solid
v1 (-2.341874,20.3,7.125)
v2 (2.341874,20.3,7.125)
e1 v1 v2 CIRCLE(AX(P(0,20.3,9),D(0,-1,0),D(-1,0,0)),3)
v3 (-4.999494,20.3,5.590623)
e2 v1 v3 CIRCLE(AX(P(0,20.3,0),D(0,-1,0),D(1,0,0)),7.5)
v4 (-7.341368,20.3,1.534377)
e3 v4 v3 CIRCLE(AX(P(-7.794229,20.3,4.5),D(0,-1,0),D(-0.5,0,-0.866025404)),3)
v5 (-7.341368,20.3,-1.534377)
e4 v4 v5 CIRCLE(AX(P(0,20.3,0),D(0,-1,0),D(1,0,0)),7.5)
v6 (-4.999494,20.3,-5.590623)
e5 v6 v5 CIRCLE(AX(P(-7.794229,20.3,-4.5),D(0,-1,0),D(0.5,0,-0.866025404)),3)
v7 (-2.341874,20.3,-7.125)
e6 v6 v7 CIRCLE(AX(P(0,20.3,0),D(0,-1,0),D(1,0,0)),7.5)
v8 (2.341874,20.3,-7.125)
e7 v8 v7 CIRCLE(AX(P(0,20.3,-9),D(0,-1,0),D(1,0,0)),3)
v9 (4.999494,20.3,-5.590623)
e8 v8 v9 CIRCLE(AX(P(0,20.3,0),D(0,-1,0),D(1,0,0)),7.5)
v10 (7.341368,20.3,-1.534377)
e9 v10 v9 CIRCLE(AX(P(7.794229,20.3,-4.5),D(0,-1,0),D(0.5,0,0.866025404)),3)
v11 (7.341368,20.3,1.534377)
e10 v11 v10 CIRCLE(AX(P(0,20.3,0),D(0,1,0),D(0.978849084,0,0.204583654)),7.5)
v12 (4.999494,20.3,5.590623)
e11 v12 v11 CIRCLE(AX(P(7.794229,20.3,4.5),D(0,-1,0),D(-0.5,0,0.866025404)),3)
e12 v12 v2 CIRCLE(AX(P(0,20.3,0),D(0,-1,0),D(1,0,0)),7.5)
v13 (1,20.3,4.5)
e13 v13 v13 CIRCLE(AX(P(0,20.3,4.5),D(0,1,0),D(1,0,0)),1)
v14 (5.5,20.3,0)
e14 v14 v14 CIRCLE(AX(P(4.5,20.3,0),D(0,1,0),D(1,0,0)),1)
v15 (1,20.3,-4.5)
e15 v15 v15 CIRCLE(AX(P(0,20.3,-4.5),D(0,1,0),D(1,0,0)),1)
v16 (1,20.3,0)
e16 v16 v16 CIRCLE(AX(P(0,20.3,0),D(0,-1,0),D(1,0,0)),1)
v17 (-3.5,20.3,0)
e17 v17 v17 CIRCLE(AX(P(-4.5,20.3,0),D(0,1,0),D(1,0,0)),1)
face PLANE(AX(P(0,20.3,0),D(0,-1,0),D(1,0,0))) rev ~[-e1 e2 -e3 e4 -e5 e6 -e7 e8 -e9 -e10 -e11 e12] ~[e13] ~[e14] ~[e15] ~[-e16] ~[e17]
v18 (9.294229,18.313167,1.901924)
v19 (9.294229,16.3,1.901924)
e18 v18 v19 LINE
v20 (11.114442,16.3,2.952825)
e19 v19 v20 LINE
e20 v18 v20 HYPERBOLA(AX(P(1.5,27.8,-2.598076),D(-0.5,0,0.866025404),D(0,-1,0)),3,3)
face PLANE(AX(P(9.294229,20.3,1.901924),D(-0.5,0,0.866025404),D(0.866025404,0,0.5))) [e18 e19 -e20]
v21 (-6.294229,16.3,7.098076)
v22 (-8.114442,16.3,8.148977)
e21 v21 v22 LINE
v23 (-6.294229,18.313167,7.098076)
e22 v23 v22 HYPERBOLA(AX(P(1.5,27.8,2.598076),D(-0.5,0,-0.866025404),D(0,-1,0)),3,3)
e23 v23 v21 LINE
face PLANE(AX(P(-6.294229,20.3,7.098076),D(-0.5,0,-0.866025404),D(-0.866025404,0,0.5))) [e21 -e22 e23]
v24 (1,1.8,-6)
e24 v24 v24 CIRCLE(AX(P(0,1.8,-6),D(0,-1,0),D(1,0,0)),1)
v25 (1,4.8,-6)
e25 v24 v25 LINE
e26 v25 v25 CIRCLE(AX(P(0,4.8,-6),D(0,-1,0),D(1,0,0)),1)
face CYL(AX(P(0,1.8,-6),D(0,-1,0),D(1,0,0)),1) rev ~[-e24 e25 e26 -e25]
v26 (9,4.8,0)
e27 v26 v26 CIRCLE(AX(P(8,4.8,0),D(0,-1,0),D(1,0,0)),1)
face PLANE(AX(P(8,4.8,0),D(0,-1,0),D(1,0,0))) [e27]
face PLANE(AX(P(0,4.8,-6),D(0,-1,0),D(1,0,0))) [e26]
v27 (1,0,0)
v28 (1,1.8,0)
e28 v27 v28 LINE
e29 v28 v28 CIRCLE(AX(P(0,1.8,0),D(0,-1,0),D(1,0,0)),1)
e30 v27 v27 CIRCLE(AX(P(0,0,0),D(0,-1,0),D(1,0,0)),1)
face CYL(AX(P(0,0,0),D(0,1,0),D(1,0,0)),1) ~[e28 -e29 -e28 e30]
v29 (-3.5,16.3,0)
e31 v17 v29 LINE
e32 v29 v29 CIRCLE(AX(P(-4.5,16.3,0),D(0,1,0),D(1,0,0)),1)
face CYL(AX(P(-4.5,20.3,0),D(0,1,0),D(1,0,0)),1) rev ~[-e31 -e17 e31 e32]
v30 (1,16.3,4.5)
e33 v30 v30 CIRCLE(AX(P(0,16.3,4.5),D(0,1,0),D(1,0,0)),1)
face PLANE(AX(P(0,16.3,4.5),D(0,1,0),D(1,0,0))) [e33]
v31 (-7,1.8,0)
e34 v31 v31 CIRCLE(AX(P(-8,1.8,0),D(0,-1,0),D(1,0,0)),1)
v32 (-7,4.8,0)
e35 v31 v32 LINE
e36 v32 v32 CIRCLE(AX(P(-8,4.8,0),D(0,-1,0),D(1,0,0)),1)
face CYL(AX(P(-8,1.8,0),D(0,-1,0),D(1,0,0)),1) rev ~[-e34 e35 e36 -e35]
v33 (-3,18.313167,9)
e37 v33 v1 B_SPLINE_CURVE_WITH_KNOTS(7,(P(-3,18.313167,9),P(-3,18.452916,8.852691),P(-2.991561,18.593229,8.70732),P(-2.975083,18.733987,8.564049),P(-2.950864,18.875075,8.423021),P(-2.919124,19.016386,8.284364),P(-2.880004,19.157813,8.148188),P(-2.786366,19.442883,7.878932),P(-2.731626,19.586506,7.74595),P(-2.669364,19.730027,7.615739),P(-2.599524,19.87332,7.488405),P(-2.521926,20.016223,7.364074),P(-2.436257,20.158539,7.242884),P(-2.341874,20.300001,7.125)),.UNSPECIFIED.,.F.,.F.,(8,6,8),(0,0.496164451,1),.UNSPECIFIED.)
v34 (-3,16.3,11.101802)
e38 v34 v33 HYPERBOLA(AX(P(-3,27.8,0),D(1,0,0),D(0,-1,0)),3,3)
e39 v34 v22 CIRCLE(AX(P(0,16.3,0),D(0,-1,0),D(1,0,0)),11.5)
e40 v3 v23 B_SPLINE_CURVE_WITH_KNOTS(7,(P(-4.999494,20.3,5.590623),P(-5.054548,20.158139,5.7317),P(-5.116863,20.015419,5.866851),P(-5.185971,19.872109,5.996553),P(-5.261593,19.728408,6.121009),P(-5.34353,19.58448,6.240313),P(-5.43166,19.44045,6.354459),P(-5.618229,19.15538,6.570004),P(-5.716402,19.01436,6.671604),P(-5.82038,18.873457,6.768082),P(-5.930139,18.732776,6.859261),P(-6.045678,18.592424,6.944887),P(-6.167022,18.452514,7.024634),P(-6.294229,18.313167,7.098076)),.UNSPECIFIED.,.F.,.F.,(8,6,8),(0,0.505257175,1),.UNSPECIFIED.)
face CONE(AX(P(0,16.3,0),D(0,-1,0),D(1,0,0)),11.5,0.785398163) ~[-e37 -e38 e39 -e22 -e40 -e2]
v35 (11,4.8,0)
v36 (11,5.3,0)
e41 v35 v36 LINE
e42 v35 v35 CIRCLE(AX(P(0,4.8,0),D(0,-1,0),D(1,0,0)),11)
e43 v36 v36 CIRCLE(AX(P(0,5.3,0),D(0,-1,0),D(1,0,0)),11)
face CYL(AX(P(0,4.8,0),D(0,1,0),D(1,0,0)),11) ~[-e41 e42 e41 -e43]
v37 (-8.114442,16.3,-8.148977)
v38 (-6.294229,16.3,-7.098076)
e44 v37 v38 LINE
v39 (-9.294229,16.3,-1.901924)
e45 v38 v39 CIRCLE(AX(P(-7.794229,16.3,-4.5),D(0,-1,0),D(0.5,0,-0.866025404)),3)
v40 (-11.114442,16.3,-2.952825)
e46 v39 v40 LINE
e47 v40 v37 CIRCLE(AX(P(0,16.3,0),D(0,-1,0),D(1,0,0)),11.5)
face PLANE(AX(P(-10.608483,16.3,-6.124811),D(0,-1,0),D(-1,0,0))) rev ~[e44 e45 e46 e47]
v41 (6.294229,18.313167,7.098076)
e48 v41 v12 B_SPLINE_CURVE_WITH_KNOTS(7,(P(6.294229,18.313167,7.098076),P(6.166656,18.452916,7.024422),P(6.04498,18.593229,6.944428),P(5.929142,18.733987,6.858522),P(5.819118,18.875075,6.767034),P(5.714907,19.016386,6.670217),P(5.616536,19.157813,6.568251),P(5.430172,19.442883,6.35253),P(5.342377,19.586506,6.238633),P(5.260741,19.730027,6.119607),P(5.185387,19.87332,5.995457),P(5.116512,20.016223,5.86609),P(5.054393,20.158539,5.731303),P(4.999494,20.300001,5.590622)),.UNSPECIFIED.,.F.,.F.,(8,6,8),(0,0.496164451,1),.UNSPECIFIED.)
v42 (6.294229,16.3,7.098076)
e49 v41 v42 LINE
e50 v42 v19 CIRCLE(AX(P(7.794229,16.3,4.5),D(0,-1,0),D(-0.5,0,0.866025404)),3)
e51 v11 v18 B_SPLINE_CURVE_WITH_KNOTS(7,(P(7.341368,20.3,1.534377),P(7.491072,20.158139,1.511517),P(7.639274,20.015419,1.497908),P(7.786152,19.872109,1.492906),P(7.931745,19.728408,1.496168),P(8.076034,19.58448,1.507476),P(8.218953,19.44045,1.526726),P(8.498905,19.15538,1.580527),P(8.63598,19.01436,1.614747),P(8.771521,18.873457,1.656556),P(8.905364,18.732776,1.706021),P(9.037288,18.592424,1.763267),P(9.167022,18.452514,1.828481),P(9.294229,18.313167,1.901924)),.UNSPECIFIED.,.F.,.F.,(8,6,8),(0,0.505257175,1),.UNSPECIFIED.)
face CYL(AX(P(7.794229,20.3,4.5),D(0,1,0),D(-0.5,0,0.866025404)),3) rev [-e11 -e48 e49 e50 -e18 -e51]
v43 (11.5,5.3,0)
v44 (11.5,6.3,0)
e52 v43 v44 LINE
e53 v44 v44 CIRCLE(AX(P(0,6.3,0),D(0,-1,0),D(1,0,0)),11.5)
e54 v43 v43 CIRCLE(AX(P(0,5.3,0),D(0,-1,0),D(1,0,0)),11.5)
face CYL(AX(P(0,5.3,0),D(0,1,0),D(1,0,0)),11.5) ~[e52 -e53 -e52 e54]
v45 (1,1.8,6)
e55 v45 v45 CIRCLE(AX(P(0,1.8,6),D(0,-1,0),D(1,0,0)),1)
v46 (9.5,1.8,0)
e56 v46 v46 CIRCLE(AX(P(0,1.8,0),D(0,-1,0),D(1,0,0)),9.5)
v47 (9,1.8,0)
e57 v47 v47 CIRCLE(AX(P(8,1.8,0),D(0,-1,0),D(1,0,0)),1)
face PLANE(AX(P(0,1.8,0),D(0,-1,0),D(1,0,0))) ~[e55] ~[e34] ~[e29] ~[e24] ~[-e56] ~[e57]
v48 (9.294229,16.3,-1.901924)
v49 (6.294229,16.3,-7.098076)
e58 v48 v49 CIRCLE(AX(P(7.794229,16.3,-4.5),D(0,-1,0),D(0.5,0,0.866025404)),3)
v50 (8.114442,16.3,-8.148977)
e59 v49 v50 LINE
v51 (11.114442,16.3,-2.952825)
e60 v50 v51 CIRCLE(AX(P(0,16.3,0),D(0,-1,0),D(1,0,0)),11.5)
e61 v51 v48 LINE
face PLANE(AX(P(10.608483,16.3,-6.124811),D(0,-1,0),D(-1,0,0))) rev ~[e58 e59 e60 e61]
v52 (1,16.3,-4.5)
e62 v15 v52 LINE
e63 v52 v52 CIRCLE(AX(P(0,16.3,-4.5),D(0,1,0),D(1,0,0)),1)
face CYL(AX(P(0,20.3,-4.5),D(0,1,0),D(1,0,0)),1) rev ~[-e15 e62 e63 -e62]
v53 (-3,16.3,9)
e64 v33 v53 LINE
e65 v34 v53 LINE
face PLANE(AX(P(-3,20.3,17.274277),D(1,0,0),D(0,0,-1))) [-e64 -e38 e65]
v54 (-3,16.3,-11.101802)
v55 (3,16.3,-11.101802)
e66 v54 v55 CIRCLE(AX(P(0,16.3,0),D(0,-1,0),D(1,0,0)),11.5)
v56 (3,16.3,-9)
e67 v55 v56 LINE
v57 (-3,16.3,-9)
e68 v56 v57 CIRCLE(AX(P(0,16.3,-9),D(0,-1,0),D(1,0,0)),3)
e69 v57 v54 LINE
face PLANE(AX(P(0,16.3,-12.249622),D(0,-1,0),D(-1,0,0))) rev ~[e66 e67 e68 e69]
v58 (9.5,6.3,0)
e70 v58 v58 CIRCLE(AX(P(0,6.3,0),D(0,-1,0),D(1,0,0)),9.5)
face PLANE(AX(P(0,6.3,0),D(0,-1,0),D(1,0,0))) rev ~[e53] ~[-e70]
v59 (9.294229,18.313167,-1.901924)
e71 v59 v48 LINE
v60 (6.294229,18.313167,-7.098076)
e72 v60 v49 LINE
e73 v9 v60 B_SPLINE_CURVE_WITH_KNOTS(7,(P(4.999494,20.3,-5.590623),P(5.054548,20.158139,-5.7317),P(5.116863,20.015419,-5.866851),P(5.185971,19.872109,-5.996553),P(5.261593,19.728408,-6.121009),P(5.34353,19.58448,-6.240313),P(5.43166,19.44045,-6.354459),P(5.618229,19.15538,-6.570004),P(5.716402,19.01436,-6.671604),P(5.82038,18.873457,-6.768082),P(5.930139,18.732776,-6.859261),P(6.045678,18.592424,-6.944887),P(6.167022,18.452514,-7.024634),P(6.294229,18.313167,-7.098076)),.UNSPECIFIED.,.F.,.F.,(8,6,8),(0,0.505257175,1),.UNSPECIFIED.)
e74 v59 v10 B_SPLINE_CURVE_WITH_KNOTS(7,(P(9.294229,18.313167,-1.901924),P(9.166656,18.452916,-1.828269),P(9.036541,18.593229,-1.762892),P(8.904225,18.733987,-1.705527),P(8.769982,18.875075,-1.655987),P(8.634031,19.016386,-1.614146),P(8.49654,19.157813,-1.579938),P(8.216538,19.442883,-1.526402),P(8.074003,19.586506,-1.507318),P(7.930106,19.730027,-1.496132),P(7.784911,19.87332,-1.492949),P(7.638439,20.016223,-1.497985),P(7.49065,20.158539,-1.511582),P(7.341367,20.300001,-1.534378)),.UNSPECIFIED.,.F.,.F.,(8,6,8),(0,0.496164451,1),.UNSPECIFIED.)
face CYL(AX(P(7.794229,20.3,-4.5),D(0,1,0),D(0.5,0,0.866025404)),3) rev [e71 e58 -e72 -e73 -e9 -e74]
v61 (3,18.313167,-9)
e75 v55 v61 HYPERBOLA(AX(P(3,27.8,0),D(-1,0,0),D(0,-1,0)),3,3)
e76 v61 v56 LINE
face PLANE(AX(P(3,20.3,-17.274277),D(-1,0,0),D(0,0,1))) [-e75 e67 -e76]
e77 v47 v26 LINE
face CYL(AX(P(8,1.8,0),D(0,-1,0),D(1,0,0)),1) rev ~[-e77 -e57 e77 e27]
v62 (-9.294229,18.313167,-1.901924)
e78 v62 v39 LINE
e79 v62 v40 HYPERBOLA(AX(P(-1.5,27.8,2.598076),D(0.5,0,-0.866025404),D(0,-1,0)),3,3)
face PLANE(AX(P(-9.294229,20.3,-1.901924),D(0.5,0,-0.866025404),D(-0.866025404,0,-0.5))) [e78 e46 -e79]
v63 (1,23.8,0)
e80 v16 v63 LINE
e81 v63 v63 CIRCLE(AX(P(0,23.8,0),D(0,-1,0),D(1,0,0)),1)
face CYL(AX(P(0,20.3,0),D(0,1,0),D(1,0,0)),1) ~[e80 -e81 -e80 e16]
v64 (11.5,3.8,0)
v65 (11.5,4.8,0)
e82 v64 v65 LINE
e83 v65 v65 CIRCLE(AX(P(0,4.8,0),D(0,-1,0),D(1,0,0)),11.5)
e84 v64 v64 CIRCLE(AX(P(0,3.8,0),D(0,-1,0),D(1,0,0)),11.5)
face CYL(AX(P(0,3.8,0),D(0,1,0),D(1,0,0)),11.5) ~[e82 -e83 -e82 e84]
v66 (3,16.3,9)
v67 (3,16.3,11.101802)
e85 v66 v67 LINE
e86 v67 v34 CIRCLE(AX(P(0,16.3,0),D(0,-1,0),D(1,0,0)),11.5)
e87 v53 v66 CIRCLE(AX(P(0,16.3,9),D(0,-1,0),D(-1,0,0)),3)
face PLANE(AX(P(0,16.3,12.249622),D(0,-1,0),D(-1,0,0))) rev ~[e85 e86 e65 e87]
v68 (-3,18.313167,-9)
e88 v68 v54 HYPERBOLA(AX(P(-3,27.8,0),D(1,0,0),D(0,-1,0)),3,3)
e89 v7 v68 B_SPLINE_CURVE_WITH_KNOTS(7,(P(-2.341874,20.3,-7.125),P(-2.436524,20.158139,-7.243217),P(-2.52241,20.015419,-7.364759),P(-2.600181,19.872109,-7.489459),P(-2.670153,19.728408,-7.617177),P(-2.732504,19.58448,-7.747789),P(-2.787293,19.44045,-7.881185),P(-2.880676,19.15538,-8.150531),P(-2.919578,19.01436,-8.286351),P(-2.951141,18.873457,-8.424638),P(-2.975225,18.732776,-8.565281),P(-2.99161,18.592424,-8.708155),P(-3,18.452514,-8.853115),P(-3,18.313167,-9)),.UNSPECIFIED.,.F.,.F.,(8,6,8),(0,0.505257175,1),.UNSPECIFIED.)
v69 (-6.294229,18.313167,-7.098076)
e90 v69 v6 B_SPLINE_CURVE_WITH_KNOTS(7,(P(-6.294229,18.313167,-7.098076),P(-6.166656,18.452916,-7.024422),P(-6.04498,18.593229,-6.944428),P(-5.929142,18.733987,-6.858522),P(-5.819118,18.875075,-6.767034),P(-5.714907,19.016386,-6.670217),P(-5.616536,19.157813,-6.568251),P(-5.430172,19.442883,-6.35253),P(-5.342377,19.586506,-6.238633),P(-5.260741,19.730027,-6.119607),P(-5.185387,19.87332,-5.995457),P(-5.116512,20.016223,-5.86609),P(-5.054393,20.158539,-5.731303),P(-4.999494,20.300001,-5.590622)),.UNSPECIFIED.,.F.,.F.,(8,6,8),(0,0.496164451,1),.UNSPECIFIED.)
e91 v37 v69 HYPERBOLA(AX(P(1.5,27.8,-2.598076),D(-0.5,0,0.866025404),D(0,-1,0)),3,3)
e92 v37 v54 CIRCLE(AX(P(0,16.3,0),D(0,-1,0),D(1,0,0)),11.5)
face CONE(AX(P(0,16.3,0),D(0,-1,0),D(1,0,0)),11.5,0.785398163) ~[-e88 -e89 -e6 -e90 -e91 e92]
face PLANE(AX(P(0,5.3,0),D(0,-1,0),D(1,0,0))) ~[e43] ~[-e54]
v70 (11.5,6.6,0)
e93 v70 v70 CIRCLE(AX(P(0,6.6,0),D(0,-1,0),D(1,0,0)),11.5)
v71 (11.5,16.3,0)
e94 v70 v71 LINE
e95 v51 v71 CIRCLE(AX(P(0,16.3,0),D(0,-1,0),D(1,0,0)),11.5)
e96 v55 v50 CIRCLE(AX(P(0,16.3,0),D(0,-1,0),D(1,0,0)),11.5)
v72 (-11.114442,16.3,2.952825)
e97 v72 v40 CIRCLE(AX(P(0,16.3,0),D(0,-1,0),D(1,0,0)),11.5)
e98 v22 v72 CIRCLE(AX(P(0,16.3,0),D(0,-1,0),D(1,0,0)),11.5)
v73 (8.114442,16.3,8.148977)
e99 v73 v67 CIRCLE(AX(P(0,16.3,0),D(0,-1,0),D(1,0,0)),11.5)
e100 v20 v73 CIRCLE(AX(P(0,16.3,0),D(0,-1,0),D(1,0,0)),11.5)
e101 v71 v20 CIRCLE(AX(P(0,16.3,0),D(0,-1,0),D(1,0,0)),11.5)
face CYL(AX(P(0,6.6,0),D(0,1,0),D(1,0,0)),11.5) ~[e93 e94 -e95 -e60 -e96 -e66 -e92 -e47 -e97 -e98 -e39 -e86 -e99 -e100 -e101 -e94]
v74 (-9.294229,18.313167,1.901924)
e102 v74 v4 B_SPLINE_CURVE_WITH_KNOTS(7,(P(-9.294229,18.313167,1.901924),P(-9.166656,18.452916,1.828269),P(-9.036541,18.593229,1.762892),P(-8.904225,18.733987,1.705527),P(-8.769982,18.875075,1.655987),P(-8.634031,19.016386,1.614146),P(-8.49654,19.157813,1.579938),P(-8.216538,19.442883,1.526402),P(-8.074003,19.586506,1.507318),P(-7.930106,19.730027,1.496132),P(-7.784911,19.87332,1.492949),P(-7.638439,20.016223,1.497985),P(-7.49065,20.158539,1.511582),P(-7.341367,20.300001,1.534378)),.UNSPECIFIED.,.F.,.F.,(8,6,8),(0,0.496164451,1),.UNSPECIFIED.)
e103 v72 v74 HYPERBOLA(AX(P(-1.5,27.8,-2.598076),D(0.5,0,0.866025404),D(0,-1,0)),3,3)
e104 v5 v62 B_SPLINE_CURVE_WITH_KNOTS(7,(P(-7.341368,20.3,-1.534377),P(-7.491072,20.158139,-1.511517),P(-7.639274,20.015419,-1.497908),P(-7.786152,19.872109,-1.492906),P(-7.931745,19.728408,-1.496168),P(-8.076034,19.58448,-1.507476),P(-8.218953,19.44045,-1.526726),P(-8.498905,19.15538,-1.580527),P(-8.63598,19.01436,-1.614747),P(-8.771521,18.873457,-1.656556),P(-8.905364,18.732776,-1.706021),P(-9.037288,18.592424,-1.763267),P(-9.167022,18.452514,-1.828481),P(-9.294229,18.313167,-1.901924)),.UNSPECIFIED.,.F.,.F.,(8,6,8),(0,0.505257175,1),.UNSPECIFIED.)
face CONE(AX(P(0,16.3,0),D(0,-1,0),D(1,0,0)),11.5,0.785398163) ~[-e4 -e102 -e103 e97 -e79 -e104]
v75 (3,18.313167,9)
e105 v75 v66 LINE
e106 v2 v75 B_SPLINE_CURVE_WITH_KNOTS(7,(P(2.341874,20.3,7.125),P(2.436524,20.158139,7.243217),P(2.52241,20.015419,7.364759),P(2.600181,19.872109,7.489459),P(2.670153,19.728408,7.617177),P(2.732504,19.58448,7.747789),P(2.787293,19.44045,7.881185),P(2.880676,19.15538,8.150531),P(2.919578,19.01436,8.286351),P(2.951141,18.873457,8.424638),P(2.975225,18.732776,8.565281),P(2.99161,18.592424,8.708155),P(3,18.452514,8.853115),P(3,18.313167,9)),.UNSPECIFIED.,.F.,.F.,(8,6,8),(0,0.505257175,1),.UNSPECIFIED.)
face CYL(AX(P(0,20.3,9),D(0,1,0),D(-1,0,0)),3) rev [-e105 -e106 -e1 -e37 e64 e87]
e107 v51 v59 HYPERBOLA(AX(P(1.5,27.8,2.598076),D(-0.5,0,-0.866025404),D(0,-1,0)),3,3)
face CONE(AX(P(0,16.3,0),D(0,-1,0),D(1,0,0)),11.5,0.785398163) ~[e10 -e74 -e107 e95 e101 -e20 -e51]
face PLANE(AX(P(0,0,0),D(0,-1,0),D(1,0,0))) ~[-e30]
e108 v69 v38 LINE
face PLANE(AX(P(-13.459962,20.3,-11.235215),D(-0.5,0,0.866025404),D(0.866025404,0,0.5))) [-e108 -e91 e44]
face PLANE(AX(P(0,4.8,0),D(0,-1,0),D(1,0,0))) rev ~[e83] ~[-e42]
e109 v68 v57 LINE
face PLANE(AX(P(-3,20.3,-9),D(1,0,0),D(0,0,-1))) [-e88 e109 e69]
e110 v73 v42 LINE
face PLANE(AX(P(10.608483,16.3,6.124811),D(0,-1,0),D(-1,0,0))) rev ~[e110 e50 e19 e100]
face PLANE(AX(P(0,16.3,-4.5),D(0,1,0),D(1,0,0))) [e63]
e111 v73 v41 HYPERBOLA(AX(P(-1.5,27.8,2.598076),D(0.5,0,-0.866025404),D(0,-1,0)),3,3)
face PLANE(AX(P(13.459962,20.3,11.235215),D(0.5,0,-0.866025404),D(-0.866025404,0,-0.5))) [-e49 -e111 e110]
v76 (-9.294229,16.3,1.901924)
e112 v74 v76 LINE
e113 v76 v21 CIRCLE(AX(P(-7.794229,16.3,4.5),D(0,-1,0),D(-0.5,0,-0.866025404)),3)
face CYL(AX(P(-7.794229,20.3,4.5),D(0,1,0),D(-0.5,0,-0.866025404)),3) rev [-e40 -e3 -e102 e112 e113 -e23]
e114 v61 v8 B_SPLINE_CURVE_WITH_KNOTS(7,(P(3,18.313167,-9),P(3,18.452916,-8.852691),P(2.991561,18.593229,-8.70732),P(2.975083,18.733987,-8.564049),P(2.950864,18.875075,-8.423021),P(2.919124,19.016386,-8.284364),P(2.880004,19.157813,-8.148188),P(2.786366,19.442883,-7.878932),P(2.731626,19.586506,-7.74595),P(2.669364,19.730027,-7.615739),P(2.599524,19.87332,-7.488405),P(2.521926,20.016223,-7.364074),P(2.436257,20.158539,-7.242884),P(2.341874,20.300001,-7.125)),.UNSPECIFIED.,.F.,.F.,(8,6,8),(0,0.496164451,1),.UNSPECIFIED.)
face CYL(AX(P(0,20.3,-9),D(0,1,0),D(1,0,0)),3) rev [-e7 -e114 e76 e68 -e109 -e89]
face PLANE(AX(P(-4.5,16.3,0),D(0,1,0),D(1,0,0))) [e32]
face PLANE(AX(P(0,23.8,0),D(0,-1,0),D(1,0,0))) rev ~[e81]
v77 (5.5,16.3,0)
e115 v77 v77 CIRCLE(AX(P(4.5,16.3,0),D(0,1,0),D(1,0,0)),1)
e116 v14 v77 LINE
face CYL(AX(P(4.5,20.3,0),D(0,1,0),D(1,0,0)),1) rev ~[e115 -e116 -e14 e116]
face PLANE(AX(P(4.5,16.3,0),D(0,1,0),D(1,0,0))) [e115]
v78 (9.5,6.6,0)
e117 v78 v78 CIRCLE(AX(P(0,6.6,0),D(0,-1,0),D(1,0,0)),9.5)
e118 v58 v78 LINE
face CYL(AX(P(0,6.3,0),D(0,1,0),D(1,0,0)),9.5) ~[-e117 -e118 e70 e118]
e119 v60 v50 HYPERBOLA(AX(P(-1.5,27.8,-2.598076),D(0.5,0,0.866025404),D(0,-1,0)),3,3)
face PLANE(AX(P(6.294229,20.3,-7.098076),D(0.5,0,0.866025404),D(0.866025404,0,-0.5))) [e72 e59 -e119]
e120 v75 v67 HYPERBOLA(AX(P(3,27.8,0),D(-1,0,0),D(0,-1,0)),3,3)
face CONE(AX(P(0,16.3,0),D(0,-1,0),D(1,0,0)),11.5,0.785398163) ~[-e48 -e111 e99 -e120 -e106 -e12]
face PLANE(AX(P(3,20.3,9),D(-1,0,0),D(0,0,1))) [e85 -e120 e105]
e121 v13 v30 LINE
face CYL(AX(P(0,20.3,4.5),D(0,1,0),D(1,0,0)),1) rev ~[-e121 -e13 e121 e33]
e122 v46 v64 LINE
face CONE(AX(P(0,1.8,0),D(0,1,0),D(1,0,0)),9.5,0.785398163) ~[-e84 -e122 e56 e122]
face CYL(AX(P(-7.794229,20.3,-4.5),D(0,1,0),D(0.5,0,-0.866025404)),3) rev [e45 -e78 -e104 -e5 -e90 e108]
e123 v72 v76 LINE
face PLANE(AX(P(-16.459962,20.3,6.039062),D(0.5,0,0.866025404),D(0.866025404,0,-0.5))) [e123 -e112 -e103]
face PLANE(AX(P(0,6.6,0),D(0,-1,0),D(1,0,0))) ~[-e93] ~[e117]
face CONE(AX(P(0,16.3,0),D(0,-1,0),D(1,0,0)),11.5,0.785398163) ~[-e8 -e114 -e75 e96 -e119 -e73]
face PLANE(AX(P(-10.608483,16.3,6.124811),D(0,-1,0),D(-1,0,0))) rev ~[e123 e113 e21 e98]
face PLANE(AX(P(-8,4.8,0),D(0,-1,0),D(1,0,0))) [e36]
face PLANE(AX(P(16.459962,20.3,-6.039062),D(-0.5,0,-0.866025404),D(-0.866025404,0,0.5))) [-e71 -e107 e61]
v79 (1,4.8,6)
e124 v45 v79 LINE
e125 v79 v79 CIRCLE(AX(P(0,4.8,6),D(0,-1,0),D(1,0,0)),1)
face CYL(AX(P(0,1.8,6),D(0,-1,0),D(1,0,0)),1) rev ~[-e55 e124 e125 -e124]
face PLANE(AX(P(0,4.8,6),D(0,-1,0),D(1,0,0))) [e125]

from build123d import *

# Parameters (mm, degrees)
SKETCH3_R          = 1
CUT_EXTRUDE1_DEPTH = 4
SKETCH4_R          = 1
CUT_EXTRUDE2_DEPTH = 3


with BuildPart() as part:
    # Sketch2 → Revolve2 (revolve)
    with BuildSketch(Plane.XY):
        Polygon((1, 23.8), (0, 23.8), (0, 0), (1, 0), (1, 1.8), (9.5, 1.8), (11.5, 3.8), (11.5, 4.8), (11, 4.8), (11, 5.3), (11.5, 5.3), (11.5, 6.3), (9.5, 6.3), (9.5, 6.6), (11.5, 6.6), (11.5, 16.3), (7.5, 20.3), (1, 20.3), align=None)
    revolve(axis=Axis((0, 23.8, 0), (0, -1, 0)))

    # Sketch3 → Cut-Extrude1 (cut)
    with BuildSketch(Plane(origin=(0, 20.3, 0), x_dir=(1, 0, 0), z_dir=(0, 1, 0))):
        with Locations((0, 4.5)):
            Circle(SKETCH3_R)
        with Locations((0, -4.5)):
            Circle(SKETCH3_R)
        with Locations((4.5, 0)):
            Circle(SKETCH3_R)
        with Locations((-4.5, 0)):
            Circle(SKETCH3_R)
        with BuildLine():
            Line((-3, 9), (-3, 17.274276686))
            Line((-3, 17.274276686), (3, 17.274276686))
            Line((3, 17.274276686), (3, 9))
            ThreePointArc((3, 9), (0, 6), (-3, 9))
        make_face()
        with BuildLine():
            Line((13.459962442, 11.235214554), (16.459962442, 6.039062131))
            Line((16.459962442, 6.039062131), (9.294228634, 1.901923789))
            ThreePointArc((9.294228634, 1.901923789), (5.196152423, 3), (6.294228634, 7.098076211))
            Line((6.294228634, 7.098076211), (13.459962442, 11.235214554))
        make_face()
        with BuildLine():
            Line((16.459962442, -6.039062131), (13.459962442, -11.235214554))
            Line((13.459962442, -11.235214554), (6.294228634, -7.098076211))
            ThreePointArc((6.294228634, -7.098076211), (5.196152423, -3), (9.294228634, -1.901923789))
            Line((9.294228634, -1.901923789), (16.459962442, -6.039062131))
        make_face()
        with BuildLine():
            Line((3, -17.274276686), (-3, -17.274276686))
            Line((-3, -17.274276686), (-3, -9))
            ThreePointArc((-3, -9), (0, -6), (3, -9))
            Line((3, -9), (3, -17.274276686))
        make_face()
        with BuildLine():
            Line((-13.459962442, -11.235214554), (-16.459962442, -6.039062131))
            Line((-16.459962442, -6.039062131), (-9.294228634, -1.901923789))
            ThreePointArc((-9.294228634, -1.901923789), (-5.196152423, -3), (-6.294228634, -7.098076211))
            Line((-6.294228634, -7.098076211), (-13.459962442, -11.235214554))
        make_face()
        with BuildLine():
            Line((-16.459962442, 6.039062131), (-13.459962442, 11.235214554))
            Line((-13.459962442, 11.235214554), (-6.294228634, 7.098076211))
            ThreePointArc((-6.294228634, 7.098076211), (-5.196152423, 3), (-9.294228634, 1.901923789))
            Line((-9.294228634, 1.901923789), (-16.459962442, 6.039062131))
        make_face()
    extrude(amount=-CUT_EXTRUDE1_DEPTH, mode=Mode.SUBTRACT)

    # Sketch4 → Cut-Extrude2 (cut)
    with BuildSketch(Plane.XZ.offset(-1.8)):
        with Locations((0, 6)):
            Circle(SKETCH4_R)
        with Locations((8, 0)):
            Circle(SKETCH4_R)
        with Locations((0, -6)):
            Circle(SKETCH4_R)
        with Locations((-8, 0)):
            Circle(SKETCH4_R)
    extrude(amount=-CUT_EXTRUDE2_DEPTH, mode=Mode.SUBTRACT)


solid = part.part
